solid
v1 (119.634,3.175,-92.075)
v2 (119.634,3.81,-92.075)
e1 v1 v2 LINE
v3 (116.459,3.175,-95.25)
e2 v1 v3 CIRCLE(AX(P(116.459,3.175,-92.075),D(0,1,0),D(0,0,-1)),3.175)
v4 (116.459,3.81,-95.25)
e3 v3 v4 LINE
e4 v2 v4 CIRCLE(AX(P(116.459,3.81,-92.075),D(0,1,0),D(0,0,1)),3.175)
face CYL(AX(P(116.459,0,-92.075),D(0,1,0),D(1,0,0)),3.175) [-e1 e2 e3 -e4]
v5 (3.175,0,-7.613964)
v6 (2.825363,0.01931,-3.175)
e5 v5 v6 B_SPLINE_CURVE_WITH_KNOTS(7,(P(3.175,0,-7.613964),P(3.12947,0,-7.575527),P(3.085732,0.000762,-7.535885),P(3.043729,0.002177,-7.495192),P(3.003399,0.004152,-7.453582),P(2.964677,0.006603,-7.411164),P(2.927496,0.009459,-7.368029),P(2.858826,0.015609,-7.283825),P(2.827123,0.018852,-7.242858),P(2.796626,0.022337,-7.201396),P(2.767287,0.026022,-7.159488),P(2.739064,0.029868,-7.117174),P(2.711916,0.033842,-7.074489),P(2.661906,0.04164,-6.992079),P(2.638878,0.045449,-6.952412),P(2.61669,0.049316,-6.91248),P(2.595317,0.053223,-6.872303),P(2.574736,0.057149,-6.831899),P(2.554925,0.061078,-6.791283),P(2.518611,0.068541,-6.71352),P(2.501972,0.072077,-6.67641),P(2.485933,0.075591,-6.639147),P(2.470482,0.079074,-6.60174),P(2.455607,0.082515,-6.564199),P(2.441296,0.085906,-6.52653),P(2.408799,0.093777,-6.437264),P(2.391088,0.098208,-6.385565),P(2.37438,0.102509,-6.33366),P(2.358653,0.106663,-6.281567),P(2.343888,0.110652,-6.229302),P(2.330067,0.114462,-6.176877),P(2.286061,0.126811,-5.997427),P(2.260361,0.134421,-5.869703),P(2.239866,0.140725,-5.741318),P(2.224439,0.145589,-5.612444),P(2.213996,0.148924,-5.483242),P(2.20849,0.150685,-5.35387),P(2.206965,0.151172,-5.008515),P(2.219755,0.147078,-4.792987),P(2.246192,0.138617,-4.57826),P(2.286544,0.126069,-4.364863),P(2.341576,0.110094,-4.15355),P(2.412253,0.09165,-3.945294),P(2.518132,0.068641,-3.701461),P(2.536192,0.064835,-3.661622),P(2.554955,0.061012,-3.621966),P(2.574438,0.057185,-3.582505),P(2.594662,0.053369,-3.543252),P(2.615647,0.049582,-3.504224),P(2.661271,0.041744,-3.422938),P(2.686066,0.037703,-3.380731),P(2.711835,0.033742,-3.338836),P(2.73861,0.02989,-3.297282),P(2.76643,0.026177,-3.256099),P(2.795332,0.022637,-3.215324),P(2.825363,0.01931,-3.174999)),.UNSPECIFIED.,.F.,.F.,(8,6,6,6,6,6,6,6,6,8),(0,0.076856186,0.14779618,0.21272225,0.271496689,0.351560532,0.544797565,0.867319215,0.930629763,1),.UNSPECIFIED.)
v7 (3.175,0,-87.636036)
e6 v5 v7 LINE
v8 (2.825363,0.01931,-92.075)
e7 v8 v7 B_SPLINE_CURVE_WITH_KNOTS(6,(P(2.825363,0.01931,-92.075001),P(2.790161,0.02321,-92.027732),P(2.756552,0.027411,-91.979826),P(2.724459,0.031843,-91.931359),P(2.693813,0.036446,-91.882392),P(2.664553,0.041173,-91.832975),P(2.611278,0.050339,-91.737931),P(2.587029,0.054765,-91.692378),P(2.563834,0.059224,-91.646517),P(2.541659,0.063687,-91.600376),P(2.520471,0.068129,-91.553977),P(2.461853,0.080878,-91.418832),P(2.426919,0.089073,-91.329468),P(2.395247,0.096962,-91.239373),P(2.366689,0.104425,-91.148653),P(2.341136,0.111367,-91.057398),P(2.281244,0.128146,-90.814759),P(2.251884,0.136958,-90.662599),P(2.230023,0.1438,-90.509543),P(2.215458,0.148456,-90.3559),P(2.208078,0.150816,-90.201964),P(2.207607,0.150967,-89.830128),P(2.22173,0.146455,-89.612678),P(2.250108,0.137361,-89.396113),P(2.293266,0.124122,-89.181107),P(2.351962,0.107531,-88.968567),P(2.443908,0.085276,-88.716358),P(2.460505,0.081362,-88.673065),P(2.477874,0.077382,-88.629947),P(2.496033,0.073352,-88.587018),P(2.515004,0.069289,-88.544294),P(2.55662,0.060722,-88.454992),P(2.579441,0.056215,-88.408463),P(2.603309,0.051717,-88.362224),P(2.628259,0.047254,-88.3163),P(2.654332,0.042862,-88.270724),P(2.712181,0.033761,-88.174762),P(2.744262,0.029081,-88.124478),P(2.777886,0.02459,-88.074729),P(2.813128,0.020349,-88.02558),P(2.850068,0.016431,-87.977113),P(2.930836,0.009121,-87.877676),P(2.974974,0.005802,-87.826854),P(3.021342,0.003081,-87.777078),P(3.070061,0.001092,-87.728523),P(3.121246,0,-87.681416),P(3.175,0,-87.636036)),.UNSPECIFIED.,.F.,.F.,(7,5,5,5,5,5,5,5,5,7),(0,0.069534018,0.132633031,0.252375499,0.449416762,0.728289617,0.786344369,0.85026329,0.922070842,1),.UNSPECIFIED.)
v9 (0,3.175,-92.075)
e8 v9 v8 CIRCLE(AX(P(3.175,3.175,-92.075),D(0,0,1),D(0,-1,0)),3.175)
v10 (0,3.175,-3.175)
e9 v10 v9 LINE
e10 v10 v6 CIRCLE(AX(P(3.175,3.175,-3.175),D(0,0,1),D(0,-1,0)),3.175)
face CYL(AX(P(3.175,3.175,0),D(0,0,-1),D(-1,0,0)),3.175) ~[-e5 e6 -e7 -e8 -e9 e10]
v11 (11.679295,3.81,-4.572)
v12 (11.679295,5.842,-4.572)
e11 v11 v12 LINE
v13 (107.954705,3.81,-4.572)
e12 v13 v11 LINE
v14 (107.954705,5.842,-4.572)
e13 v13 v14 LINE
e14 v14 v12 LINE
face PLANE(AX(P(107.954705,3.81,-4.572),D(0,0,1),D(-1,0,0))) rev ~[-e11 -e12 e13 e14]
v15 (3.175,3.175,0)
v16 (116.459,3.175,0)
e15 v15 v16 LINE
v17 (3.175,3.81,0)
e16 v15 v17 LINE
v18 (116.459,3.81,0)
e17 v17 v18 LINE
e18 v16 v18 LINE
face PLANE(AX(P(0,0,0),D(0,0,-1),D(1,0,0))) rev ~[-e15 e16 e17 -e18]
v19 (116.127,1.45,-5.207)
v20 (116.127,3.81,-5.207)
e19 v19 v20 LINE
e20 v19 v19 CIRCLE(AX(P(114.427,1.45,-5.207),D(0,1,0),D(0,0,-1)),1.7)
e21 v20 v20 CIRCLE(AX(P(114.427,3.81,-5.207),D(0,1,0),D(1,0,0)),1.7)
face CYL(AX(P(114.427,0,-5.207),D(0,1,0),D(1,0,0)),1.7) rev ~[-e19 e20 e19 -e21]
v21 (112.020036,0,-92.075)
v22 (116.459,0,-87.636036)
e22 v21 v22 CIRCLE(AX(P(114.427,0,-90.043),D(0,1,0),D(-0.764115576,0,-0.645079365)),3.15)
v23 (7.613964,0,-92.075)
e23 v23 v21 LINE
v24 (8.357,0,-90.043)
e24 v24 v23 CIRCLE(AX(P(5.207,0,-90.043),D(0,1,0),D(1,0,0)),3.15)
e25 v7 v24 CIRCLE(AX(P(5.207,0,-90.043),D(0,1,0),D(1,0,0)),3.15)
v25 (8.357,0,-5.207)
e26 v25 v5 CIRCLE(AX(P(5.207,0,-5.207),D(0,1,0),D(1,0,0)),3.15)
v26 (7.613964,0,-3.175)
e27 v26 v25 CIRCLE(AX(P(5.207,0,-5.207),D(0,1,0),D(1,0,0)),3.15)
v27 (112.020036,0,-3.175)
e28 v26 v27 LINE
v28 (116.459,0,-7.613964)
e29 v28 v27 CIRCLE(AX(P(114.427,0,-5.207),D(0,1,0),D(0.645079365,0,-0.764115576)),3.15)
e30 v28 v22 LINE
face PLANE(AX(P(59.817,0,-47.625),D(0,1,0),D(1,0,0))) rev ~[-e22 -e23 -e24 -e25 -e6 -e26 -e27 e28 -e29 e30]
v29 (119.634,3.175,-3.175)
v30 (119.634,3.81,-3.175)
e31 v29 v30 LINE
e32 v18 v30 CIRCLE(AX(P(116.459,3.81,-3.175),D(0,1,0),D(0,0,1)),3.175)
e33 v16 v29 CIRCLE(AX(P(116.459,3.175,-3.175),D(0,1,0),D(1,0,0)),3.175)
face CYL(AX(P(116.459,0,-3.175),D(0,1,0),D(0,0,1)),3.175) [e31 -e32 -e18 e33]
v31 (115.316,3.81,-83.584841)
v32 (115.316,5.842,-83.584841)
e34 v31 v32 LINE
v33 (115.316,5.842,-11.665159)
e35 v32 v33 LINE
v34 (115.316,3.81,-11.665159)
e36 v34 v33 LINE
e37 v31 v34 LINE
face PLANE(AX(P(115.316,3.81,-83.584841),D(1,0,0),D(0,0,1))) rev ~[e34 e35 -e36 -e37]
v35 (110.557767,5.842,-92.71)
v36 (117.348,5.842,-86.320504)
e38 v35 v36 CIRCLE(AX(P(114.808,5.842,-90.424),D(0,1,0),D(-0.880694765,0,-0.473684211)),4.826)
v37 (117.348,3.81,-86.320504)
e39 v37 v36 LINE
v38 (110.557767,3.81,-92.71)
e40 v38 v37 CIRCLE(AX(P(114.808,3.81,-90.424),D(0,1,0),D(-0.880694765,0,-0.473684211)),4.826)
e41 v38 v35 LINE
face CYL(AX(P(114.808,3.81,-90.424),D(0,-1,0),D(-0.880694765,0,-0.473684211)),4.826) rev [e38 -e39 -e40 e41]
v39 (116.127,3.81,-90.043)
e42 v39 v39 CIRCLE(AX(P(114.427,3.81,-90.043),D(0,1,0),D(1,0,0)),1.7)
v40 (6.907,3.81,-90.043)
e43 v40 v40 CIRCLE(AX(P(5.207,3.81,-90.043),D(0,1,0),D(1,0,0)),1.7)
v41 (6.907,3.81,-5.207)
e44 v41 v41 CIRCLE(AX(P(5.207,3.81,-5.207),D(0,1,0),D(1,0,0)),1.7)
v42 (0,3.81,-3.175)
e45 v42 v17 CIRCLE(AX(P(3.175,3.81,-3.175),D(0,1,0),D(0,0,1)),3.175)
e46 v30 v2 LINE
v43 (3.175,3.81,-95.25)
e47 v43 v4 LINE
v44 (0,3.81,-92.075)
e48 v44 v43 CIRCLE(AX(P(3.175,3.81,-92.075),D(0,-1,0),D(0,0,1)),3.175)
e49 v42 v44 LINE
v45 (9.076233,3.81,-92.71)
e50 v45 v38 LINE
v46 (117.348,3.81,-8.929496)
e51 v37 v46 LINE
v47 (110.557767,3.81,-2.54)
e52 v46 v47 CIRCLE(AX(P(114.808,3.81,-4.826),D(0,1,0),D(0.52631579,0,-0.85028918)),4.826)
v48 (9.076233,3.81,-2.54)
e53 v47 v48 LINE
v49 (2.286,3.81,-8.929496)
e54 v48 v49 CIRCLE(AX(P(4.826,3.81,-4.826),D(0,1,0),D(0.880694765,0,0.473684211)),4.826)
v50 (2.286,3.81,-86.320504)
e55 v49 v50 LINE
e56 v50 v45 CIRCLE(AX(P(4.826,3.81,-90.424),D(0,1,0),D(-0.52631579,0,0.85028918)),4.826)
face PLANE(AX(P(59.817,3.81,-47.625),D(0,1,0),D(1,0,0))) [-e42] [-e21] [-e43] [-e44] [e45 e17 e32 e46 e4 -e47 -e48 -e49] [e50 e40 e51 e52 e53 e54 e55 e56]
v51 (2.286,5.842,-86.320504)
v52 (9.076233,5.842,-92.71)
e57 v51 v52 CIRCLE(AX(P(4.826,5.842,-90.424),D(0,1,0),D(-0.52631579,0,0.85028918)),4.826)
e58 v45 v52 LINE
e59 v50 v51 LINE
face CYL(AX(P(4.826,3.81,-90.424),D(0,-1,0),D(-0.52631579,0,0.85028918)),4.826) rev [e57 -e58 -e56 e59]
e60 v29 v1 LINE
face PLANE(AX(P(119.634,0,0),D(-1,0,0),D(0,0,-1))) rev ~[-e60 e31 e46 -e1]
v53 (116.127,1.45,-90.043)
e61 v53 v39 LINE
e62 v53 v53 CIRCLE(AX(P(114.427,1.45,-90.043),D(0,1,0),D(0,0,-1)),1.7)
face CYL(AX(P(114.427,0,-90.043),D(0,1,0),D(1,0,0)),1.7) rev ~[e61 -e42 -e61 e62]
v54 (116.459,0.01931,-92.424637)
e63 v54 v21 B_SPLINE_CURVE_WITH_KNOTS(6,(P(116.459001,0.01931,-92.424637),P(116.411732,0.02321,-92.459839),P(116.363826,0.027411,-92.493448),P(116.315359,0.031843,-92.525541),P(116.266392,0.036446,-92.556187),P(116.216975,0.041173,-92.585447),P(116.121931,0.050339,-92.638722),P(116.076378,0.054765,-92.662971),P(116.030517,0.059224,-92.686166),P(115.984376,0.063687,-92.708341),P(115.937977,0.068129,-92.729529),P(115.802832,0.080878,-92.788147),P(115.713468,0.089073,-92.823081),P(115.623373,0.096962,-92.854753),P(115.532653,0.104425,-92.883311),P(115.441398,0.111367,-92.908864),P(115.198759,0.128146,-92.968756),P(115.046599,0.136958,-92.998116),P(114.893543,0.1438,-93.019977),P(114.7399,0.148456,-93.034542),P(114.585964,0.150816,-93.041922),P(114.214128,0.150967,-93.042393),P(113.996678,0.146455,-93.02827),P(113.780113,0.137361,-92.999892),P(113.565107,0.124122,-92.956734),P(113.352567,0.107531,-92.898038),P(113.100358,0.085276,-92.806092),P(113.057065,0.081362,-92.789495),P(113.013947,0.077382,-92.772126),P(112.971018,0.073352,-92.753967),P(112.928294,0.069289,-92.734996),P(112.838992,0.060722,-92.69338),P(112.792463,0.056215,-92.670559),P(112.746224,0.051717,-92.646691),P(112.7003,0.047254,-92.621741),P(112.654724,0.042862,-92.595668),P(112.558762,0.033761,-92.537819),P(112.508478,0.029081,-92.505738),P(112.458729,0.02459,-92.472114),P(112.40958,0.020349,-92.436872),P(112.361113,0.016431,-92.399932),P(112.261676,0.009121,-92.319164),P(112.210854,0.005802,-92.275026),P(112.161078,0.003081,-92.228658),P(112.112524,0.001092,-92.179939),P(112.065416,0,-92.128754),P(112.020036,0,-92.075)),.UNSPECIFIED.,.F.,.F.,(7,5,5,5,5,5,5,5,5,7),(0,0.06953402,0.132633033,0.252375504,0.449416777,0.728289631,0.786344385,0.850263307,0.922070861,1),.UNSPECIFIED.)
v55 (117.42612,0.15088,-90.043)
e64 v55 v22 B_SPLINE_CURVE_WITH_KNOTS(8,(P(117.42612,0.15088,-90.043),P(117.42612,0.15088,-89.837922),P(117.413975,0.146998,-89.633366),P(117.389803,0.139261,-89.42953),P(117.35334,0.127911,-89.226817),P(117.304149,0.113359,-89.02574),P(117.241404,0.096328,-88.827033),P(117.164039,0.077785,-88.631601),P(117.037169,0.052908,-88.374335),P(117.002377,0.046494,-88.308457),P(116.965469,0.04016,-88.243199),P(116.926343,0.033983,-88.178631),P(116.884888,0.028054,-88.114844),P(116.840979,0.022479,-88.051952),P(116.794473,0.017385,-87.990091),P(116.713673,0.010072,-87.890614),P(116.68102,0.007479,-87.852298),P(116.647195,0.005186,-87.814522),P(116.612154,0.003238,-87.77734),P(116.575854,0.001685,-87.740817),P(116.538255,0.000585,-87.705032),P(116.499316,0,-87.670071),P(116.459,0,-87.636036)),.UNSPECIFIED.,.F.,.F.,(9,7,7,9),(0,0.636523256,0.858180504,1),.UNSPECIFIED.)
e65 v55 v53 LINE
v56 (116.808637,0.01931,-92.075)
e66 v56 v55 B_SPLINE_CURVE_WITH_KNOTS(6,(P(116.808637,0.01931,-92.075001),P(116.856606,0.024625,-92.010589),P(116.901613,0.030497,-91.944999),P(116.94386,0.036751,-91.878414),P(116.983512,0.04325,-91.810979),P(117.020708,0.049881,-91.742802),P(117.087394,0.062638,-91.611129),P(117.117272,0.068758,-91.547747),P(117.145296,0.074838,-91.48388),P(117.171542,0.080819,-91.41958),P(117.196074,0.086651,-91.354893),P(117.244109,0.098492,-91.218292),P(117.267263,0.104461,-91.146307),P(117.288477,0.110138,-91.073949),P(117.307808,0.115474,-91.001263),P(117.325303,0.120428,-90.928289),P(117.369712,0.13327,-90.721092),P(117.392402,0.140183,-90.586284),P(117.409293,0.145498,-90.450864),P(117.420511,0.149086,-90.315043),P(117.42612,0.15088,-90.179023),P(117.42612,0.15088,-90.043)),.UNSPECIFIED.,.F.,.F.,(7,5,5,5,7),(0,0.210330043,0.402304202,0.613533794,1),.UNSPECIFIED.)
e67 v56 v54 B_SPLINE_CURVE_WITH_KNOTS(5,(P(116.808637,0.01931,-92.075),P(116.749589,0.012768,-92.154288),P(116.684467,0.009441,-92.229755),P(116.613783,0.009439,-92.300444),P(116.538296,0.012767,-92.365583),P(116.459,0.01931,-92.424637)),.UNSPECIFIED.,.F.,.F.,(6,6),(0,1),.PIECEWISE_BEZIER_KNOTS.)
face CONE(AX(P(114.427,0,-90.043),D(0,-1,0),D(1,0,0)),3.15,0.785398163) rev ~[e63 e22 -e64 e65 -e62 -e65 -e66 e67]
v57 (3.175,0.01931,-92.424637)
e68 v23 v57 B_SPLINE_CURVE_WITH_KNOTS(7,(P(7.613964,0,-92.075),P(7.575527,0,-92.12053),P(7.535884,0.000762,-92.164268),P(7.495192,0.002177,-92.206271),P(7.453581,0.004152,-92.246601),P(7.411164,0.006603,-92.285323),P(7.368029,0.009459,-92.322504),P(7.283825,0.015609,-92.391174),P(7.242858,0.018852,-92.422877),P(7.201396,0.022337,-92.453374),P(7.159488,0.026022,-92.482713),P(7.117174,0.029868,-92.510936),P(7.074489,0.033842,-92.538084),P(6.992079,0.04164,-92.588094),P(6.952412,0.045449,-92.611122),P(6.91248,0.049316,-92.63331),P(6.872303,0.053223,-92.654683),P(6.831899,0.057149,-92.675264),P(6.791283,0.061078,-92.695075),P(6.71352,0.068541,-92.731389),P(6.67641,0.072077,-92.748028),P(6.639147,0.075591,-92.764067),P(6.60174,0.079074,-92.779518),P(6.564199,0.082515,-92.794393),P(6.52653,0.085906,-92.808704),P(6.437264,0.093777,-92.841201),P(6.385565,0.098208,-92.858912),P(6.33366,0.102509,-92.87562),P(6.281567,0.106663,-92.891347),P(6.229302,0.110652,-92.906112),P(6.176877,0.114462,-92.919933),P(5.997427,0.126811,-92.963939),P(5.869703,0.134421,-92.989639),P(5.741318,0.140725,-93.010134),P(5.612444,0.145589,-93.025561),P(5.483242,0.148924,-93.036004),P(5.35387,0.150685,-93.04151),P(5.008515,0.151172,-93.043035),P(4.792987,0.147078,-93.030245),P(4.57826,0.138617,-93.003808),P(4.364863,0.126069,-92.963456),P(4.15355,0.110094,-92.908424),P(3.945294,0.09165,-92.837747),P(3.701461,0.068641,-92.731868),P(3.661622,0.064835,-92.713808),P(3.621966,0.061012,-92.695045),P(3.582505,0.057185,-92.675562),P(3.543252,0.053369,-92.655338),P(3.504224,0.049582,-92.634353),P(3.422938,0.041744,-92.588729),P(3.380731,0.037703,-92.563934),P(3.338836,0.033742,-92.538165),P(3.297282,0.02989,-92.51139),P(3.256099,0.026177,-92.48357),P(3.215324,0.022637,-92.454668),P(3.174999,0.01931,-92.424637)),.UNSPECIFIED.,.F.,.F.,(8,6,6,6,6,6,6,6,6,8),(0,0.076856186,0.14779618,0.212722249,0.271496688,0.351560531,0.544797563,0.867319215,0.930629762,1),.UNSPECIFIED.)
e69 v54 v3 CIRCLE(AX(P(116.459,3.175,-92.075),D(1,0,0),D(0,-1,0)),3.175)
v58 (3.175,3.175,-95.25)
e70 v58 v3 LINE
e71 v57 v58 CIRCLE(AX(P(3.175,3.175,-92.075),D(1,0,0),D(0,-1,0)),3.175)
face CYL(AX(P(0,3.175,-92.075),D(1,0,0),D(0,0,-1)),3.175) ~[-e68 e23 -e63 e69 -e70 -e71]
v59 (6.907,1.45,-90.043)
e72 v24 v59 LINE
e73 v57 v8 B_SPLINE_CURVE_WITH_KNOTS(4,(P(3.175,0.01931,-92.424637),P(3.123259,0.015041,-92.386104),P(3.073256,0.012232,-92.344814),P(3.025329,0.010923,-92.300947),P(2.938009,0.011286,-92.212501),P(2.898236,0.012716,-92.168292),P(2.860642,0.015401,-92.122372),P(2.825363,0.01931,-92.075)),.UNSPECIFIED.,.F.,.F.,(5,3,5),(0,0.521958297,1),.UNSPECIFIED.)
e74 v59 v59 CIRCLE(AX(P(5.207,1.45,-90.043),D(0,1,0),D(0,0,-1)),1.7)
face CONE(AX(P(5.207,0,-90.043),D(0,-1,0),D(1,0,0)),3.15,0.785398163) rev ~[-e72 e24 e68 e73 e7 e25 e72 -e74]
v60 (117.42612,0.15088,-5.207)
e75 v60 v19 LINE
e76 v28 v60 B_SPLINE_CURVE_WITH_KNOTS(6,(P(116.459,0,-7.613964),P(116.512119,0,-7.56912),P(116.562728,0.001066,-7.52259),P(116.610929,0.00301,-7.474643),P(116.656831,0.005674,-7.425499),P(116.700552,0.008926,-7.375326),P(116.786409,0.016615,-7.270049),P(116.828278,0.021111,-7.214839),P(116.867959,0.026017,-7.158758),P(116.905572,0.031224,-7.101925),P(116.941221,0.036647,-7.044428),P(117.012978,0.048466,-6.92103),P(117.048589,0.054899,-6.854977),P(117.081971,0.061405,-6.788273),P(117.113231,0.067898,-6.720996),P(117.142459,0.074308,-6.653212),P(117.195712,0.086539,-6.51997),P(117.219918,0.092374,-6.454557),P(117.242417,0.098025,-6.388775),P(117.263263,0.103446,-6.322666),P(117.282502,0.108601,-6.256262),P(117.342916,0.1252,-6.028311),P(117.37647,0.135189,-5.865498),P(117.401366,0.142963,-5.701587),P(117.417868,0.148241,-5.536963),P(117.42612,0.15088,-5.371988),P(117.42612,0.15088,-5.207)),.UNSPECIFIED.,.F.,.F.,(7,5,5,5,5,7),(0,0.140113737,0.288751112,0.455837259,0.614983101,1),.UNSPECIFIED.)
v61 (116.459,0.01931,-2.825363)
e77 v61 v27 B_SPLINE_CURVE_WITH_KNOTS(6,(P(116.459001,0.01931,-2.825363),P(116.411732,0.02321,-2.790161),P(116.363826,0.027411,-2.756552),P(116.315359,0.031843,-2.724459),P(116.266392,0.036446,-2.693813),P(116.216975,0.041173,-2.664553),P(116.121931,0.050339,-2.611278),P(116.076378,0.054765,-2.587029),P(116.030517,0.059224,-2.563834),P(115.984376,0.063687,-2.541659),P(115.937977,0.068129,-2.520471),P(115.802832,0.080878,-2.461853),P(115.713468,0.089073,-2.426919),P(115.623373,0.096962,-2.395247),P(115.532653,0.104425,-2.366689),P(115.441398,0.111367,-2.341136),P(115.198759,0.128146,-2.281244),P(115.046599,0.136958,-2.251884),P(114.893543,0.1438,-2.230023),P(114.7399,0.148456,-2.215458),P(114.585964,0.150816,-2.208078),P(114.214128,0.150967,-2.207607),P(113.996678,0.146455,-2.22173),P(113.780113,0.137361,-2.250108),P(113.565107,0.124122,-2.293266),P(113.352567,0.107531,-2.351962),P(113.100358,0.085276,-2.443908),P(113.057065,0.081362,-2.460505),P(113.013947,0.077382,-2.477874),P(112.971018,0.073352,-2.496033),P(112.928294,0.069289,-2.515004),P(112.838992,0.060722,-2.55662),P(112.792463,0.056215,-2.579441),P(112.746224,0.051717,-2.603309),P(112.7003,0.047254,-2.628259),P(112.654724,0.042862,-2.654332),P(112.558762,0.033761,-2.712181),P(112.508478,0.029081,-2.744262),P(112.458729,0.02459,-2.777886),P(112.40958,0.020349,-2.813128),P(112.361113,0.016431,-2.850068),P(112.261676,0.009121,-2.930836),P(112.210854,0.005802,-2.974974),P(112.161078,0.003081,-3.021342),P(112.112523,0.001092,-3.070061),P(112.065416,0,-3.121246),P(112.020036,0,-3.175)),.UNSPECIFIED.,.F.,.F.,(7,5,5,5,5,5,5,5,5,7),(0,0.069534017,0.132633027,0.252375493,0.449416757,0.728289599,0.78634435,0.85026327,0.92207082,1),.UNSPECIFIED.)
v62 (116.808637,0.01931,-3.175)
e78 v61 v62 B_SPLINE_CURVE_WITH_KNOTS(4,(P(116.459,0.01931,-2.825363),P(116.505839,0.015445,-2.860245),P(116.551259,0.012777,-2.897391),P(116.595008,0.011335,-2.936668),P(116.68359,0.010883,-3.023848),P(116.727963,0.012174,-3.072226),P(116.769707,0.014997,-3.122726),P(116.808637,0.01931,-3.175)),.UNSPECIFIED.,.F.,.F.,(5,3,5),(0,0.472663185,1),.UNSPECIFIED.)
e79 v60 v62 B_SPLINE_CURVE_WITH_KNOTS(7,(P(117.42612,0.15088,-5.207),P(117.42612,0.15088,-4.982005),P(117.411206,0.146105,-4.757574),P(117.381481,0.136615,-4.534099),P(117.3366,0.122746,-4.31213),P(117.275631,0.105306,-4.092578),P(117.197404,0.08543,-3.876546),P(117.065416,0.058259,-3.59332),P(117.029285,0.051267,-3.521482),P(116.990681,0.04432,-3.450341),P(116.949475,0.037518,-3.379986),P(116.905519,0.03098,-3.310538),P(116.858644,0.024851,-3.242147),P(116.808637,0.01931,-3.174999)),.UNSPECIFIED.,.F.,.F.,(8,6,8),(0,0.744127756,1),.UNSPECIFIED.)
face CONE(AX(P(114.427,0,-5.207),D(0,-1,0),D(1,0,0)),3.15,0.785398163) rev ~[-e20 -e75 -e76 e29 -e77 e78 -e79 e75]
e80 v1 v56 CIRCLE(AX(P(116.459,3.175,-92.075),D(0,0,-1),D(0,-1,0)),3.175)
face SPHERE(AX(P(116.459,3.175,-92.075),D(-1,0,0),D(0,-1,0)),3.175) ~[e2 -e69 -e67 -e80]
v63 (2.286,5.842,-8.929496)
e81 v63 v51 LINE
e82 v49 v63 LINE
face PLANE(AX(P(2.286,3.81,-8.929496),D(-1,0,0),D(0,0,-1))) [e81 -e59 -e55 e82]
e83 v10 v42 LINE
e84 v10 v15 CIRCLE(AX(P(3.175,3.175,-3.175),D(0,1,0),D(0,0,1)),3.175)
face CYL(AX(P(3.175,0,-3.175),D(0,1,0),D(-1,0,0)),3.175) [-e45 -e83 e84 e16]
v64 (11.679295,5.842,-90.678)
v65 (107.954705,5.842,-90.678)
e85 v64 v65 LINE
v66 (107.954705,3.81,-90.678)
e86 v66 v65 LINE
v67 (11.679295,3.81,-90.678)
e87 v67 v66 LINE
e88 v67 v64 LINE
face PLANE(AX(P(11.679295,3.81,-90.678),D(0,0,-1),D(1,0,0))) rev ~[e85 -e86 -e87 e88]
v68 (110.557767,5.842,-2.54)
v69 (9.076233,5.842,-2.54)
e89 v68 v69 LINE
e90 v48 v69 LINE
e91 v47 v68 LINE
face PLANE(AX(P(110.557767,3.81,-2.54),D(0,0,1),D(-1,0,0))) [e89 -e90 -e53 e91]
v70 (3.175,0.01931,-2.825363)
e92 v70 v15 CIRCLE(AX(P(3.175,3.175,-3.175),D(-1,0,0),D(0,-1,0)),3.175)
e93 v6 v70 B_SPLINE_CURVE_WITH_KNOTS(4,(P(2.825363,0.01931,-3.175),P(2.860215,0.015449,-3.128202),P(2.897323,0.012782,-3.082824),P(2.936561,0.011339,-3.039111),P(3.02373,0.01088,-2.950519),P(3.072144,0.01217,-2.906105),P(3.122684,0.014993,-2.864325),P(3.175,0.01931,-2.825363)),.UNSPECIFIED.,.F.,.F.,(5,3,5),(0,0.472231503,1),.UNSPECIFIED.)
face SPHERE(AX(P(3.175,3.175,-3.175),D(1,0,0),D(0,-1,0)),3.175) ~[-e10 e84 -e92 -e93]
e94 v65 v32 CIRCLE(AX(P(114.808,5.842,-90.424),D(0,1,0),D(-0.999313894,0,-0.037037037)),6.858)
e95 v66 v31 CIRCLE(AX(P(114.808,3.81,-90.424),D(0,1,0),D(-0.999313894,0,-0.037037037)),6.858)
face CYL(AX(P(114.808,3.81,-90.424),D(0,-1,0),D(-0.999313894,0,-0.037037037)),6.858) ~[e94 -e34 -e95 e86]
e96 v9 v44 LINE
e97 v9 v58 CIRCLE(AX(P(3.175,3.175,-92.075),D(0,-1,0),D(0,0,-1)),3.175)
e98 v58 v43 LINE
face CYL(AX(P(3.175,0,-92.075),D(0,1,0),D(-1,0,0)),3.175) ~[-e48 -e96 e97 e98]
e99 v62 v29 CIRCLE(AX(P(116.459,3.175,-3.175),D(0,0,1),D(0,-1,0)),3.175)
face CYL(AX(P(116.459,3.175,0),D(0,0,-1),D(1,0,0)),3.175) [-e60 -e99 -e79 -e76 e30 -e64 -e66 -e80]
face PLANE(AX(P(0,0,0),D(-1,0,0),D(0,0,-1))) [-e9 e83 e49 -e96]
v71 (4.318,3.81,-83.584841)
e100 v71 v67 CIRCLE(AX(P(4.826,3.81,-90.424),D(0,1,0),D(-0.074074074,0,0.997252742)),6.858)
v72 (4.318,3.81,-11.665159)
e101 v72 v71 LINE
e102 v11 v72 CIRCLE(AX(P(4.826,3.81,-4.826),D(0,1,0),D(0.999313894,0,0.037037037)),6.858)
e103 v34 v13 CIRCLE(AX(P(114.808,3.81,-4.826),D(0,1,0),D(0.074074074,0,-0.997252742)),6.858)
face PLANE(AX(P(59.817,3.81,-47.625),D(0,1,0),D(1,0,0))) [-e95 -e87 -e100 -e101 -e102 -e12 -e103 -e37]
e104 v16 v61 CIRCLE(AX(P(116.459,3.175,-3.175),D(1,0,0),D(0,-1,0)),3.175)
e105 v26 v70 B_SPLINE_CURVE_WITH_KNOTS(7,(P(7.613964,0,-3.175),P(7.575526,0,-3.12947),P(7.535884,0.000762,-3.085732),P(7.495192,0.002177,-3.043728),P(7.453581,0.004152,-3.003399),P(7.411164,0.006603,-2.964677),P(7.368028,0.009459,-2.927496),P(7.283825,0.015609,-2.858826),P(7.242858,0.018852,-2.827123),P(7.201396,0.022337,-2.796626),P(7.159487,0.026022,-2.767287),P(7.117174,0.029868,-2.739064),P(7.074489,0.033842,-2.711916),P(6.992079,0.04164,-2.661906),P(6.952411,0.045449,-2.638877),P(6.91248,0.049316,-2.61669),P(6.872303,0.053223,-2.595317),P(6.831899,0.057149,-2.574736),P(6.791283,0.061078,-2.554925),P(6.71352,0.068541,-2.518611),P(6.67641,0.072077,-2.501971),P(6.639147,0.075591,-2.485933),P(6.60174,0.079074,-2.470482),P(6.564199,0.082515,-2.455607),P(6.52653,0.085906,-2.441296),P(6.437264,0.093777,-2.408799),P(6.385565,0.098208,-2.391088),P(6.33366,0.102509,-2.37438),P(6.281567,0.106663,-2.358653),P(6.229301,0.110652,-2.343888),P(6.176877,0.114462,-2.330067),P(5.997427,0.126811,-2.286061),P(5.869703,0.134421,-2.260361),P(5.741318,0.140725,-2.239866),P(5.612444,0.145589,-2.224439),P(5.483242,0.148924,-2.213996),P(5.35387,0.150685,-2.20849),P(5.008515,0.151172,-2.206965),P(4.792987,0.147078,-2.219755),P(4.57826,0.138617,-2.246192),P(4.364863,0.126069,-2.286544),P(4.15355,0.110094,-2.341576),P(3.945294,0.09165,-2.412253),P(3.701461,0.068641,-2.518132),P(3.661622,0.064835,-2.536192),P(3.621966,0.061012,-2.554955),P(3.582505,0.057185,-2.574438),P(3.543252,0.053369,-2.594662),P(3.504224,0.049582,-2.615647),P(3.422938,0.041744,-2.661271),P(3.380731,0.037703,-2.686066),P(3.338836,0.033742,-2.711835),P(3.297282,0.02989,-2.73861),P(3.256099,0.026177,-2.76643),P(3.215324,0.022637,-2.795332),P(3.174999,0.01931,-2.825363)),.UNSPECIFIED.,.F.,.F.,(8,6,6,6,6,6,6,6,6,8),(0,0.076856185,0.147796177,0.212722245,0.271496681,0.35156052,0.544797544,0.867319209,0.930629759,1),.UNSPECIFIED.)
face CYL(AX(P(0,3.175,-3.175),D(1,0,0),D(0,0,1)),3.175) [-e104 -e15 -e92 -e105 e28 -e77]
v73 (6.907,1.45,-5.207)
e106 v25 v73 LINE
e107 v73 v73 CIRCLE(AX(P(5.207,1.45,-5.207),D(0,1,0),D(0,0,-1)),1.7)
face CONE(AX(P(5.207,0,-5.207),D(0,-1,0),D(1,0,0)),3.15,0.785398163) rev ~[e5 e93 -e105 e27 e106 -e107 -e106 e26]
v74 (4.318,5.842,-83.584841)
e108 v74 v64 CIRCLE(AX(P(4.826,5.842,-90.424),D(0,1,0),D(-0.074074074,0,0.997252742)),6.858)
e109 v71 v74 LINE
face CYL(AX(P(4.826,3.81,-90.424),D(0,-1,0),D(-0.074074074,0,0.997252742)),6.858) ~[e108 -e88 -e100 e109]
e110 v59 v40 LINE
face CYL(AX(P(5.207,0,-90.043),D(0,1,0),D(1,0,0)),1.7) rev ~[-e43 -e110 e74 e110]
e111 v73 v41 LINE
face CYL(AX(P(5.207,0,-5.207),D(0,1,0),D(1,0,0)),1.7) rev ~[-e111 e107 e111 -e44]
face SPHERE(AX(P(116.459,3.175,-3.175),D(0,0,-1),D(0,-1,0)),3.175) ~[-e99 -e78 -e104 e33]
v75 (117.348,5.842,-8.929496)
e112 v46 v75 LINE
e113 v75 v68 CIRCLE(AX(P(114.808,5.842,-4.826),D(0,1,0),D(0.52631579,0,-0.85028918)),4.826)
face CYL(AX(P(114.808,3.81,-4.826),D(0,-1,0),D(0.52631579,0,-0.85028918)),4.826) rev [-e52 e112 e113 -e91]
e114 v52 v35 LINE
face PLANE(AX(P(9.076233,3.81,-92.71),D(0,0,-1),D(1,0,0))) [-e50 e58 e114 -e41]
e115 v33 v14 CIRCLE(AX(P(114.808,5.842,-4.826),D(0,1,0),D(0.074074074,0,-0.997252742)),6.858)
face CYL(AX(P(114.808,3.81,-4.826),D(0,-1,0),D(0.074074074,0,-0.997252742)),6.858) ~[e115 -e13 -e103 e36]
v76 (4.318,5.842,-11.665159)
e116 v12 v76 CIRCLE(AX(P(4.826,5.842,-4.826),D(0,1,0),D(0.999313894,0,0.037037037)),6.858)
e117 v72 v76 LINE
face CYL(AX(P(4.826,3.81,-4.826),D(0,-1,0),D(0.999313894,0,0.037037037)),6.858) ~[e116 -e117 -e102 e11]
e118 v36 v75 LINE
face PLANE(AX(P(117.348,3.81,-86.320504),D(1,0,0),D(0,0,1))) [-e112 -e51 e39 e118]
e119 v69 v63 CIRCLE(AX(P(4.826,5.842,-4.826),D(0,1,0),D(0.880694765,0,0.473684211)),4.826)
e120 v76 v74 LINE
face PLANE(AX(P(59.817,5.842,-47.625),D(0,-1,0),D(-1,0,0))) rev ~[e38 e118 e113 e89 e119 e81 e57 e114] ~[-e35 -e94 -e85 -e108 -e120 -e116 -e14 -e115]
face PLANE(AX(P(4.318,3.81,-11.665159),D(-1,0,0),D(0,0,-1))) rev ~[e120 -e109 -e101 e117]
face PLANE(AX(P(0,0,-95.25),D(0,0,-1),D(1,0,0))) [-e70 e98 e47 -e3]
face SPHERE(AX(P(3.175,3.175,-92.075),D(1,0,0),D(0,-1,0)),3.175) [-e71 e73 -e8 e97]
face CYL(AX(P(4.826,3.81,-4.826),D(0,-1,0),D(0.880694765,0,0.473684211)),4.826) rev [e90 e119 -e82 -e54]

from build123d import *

# Parameters (mm, degrees)
SKETCH1_W                                       = 119.634
SKETCH1_H                                       = 95.25
BOSS_EXTRUDE1_DEPTH                             = 3.81
FILLET1_R                                       = 3.175
BOSS_EXTRUDE2_DEPTH                             = 2.032
CSK_FOR_M3_FLAT_HEAD_MACHINE_SCREW1_D           = 3.4
CSK_FOR_M3_FLAT_HEAD_MACHINE_SCREW1_DEPTH       = 25.4
CSK_FOR_M3_FLAT_HEAD_MACHINE_SCREW1_CSINK_D     = 6.3
CSK_FOR_M3_FLAT_HEAD_MACHINE_SCREW1_CSINK_ANGLE = 90
CSK_FOR_M3_FLAT_HEAD_MACHINE_SCREW1_TIP         = 1.021463052


with BuildPart() as part:
    # Sketch1 → Boss-Extrude1 (new body)
    with BuildSketch(Plane(origin=(0, 0, 0), x_dir=(1, 0, 0), z_dir=(0, 1, 0))):
        with Locations((59.817, 47.625)):
            Rectangle(SKETCH1_W, SKETCH1_H)
    extrude(amount=BOSS_EXTRUDE1_DEPTH)

    # Fillet1
    fillet1_edges = [part.edges().sort_by_distance(p)[0] for p in [
        (59.817, 0, -95.25),
        (119.634, 0, -47.625),
        (59.817, 0, 0),
        (0, 0, -47.625),
        (0, 1.905, -95.25),
        (119.634, 1.905, -95.25),
        (119.634, 1.905, 0),
        (0, 1.905, 0),
    ]]
    fillet(fillet1_edges, radius=FILLET1_R)

    # Sketch2 → Boss-Extrude2 (add)
    with BuildSketch(Plane(origin=(0, 3.81, 0), x_dir=(1, 0, 0), z_dir=(0, 1, 0))):
        with BuildLine():
            Line((9.076232935, 92.71), (110.557767065, 92.71))
            ThreePointArc((110.557767065, 92.71), (111.500790054, 86.90936796), (117.348, 86.320504417))
            Line((117.348, 86.320504417), (117.348, 8.929495583))
            ThreePointArc((117.348, 8.929495583), (111.500790054, 8.34063204), (110.557767065, 2.54))
            Line((110.557767065, 2.54), (9.076232935, 2.54))
            ThreePointArc((9.076232935, 2.54), (8.133209946, 8.34063204), (2.286, 8.929495583))
            Line((2.286, 8.929495583), (2.286, 86.320504417))
            ThreePointArc((2.286, 86.320504417), (8.133209946, 86.90936796), (9.076232935, 92.71))
        make_face()
        with BuildLine():
            Line((11.679294682, 90.678), (107.954705318, 90.678))
            ThreePointArc((107.954705318, 90.678), (110.049437362, 85.485554332), (115.316, 83.584840695))
            Line((115.316, 83.584840695), (115.316, 11.665159305))
            ThreePointArc((115.316, 11.665159305), (110.049437362, 9.764445668), (107.954705318, 4.572))
            Line((107.954705318, 4.572), (11.679294682, 4.572))
            ThreePointArc((11.679294682, 4.572), (9.584562638, 9.764445668), (4.318, 11.665159305))
            Line((4.318, 11.665159305), (4.318, 83.584840695))
            ThreePointArc((4.318, 83.584840695), (9.584562638, 85.485554332), (11.679294682, 90.678))
        make_face(mode=Mode.SUBTRACT)
    extrude(amount=BOSS_EXTRUDE2_DEPTH)

    # CSK for M3 Flat Head Machine Screw1
    with Locations(Plane(origin=(0, 0, 0), x_dir=(-1, 0, 0), z_dir=(0, -1, 0))):
        with Locations((-114.427, 5.207), (-5.207, 5.207), (-5.207, 90.043), (-114.427, 90.043)):
            CounterSinkHole(CSK_FOR_M3_FLAT_HEAD_MACHINE_SCREW1_D / 2, CSK_FOR_M3_FLAT_HEAD_MACHINE_SCREW1_CSINK_D / 2, depth=CSK_FOR_M3_FLAT_HEAD_MACHINE_SCREW1_DEPTH, counter_sink_angle=CSK_FOR_M3_FLAT_HEAD_MACHINE_SCREW1_CSINK_ANGLE)
            with Locations((0, 0, -(CSK_FOR_M3_FLAT_HEAD_MACHINE_SCREW1_DEPTH + CSK_FOR_M3_FLAT_HEAD_MACHINE_SCREW1_TIP / 2))):  # 118° drill point
                Cone(0, CSK_FOR_M3_FLAT_HEAD_MACHINE_SCREW1_D / 2, CSK_FOR_M3_FLAT_HEAD_MACHINE_SCREW1_TIP, mode=Mode.SUBTRACT)


solid = part.part
